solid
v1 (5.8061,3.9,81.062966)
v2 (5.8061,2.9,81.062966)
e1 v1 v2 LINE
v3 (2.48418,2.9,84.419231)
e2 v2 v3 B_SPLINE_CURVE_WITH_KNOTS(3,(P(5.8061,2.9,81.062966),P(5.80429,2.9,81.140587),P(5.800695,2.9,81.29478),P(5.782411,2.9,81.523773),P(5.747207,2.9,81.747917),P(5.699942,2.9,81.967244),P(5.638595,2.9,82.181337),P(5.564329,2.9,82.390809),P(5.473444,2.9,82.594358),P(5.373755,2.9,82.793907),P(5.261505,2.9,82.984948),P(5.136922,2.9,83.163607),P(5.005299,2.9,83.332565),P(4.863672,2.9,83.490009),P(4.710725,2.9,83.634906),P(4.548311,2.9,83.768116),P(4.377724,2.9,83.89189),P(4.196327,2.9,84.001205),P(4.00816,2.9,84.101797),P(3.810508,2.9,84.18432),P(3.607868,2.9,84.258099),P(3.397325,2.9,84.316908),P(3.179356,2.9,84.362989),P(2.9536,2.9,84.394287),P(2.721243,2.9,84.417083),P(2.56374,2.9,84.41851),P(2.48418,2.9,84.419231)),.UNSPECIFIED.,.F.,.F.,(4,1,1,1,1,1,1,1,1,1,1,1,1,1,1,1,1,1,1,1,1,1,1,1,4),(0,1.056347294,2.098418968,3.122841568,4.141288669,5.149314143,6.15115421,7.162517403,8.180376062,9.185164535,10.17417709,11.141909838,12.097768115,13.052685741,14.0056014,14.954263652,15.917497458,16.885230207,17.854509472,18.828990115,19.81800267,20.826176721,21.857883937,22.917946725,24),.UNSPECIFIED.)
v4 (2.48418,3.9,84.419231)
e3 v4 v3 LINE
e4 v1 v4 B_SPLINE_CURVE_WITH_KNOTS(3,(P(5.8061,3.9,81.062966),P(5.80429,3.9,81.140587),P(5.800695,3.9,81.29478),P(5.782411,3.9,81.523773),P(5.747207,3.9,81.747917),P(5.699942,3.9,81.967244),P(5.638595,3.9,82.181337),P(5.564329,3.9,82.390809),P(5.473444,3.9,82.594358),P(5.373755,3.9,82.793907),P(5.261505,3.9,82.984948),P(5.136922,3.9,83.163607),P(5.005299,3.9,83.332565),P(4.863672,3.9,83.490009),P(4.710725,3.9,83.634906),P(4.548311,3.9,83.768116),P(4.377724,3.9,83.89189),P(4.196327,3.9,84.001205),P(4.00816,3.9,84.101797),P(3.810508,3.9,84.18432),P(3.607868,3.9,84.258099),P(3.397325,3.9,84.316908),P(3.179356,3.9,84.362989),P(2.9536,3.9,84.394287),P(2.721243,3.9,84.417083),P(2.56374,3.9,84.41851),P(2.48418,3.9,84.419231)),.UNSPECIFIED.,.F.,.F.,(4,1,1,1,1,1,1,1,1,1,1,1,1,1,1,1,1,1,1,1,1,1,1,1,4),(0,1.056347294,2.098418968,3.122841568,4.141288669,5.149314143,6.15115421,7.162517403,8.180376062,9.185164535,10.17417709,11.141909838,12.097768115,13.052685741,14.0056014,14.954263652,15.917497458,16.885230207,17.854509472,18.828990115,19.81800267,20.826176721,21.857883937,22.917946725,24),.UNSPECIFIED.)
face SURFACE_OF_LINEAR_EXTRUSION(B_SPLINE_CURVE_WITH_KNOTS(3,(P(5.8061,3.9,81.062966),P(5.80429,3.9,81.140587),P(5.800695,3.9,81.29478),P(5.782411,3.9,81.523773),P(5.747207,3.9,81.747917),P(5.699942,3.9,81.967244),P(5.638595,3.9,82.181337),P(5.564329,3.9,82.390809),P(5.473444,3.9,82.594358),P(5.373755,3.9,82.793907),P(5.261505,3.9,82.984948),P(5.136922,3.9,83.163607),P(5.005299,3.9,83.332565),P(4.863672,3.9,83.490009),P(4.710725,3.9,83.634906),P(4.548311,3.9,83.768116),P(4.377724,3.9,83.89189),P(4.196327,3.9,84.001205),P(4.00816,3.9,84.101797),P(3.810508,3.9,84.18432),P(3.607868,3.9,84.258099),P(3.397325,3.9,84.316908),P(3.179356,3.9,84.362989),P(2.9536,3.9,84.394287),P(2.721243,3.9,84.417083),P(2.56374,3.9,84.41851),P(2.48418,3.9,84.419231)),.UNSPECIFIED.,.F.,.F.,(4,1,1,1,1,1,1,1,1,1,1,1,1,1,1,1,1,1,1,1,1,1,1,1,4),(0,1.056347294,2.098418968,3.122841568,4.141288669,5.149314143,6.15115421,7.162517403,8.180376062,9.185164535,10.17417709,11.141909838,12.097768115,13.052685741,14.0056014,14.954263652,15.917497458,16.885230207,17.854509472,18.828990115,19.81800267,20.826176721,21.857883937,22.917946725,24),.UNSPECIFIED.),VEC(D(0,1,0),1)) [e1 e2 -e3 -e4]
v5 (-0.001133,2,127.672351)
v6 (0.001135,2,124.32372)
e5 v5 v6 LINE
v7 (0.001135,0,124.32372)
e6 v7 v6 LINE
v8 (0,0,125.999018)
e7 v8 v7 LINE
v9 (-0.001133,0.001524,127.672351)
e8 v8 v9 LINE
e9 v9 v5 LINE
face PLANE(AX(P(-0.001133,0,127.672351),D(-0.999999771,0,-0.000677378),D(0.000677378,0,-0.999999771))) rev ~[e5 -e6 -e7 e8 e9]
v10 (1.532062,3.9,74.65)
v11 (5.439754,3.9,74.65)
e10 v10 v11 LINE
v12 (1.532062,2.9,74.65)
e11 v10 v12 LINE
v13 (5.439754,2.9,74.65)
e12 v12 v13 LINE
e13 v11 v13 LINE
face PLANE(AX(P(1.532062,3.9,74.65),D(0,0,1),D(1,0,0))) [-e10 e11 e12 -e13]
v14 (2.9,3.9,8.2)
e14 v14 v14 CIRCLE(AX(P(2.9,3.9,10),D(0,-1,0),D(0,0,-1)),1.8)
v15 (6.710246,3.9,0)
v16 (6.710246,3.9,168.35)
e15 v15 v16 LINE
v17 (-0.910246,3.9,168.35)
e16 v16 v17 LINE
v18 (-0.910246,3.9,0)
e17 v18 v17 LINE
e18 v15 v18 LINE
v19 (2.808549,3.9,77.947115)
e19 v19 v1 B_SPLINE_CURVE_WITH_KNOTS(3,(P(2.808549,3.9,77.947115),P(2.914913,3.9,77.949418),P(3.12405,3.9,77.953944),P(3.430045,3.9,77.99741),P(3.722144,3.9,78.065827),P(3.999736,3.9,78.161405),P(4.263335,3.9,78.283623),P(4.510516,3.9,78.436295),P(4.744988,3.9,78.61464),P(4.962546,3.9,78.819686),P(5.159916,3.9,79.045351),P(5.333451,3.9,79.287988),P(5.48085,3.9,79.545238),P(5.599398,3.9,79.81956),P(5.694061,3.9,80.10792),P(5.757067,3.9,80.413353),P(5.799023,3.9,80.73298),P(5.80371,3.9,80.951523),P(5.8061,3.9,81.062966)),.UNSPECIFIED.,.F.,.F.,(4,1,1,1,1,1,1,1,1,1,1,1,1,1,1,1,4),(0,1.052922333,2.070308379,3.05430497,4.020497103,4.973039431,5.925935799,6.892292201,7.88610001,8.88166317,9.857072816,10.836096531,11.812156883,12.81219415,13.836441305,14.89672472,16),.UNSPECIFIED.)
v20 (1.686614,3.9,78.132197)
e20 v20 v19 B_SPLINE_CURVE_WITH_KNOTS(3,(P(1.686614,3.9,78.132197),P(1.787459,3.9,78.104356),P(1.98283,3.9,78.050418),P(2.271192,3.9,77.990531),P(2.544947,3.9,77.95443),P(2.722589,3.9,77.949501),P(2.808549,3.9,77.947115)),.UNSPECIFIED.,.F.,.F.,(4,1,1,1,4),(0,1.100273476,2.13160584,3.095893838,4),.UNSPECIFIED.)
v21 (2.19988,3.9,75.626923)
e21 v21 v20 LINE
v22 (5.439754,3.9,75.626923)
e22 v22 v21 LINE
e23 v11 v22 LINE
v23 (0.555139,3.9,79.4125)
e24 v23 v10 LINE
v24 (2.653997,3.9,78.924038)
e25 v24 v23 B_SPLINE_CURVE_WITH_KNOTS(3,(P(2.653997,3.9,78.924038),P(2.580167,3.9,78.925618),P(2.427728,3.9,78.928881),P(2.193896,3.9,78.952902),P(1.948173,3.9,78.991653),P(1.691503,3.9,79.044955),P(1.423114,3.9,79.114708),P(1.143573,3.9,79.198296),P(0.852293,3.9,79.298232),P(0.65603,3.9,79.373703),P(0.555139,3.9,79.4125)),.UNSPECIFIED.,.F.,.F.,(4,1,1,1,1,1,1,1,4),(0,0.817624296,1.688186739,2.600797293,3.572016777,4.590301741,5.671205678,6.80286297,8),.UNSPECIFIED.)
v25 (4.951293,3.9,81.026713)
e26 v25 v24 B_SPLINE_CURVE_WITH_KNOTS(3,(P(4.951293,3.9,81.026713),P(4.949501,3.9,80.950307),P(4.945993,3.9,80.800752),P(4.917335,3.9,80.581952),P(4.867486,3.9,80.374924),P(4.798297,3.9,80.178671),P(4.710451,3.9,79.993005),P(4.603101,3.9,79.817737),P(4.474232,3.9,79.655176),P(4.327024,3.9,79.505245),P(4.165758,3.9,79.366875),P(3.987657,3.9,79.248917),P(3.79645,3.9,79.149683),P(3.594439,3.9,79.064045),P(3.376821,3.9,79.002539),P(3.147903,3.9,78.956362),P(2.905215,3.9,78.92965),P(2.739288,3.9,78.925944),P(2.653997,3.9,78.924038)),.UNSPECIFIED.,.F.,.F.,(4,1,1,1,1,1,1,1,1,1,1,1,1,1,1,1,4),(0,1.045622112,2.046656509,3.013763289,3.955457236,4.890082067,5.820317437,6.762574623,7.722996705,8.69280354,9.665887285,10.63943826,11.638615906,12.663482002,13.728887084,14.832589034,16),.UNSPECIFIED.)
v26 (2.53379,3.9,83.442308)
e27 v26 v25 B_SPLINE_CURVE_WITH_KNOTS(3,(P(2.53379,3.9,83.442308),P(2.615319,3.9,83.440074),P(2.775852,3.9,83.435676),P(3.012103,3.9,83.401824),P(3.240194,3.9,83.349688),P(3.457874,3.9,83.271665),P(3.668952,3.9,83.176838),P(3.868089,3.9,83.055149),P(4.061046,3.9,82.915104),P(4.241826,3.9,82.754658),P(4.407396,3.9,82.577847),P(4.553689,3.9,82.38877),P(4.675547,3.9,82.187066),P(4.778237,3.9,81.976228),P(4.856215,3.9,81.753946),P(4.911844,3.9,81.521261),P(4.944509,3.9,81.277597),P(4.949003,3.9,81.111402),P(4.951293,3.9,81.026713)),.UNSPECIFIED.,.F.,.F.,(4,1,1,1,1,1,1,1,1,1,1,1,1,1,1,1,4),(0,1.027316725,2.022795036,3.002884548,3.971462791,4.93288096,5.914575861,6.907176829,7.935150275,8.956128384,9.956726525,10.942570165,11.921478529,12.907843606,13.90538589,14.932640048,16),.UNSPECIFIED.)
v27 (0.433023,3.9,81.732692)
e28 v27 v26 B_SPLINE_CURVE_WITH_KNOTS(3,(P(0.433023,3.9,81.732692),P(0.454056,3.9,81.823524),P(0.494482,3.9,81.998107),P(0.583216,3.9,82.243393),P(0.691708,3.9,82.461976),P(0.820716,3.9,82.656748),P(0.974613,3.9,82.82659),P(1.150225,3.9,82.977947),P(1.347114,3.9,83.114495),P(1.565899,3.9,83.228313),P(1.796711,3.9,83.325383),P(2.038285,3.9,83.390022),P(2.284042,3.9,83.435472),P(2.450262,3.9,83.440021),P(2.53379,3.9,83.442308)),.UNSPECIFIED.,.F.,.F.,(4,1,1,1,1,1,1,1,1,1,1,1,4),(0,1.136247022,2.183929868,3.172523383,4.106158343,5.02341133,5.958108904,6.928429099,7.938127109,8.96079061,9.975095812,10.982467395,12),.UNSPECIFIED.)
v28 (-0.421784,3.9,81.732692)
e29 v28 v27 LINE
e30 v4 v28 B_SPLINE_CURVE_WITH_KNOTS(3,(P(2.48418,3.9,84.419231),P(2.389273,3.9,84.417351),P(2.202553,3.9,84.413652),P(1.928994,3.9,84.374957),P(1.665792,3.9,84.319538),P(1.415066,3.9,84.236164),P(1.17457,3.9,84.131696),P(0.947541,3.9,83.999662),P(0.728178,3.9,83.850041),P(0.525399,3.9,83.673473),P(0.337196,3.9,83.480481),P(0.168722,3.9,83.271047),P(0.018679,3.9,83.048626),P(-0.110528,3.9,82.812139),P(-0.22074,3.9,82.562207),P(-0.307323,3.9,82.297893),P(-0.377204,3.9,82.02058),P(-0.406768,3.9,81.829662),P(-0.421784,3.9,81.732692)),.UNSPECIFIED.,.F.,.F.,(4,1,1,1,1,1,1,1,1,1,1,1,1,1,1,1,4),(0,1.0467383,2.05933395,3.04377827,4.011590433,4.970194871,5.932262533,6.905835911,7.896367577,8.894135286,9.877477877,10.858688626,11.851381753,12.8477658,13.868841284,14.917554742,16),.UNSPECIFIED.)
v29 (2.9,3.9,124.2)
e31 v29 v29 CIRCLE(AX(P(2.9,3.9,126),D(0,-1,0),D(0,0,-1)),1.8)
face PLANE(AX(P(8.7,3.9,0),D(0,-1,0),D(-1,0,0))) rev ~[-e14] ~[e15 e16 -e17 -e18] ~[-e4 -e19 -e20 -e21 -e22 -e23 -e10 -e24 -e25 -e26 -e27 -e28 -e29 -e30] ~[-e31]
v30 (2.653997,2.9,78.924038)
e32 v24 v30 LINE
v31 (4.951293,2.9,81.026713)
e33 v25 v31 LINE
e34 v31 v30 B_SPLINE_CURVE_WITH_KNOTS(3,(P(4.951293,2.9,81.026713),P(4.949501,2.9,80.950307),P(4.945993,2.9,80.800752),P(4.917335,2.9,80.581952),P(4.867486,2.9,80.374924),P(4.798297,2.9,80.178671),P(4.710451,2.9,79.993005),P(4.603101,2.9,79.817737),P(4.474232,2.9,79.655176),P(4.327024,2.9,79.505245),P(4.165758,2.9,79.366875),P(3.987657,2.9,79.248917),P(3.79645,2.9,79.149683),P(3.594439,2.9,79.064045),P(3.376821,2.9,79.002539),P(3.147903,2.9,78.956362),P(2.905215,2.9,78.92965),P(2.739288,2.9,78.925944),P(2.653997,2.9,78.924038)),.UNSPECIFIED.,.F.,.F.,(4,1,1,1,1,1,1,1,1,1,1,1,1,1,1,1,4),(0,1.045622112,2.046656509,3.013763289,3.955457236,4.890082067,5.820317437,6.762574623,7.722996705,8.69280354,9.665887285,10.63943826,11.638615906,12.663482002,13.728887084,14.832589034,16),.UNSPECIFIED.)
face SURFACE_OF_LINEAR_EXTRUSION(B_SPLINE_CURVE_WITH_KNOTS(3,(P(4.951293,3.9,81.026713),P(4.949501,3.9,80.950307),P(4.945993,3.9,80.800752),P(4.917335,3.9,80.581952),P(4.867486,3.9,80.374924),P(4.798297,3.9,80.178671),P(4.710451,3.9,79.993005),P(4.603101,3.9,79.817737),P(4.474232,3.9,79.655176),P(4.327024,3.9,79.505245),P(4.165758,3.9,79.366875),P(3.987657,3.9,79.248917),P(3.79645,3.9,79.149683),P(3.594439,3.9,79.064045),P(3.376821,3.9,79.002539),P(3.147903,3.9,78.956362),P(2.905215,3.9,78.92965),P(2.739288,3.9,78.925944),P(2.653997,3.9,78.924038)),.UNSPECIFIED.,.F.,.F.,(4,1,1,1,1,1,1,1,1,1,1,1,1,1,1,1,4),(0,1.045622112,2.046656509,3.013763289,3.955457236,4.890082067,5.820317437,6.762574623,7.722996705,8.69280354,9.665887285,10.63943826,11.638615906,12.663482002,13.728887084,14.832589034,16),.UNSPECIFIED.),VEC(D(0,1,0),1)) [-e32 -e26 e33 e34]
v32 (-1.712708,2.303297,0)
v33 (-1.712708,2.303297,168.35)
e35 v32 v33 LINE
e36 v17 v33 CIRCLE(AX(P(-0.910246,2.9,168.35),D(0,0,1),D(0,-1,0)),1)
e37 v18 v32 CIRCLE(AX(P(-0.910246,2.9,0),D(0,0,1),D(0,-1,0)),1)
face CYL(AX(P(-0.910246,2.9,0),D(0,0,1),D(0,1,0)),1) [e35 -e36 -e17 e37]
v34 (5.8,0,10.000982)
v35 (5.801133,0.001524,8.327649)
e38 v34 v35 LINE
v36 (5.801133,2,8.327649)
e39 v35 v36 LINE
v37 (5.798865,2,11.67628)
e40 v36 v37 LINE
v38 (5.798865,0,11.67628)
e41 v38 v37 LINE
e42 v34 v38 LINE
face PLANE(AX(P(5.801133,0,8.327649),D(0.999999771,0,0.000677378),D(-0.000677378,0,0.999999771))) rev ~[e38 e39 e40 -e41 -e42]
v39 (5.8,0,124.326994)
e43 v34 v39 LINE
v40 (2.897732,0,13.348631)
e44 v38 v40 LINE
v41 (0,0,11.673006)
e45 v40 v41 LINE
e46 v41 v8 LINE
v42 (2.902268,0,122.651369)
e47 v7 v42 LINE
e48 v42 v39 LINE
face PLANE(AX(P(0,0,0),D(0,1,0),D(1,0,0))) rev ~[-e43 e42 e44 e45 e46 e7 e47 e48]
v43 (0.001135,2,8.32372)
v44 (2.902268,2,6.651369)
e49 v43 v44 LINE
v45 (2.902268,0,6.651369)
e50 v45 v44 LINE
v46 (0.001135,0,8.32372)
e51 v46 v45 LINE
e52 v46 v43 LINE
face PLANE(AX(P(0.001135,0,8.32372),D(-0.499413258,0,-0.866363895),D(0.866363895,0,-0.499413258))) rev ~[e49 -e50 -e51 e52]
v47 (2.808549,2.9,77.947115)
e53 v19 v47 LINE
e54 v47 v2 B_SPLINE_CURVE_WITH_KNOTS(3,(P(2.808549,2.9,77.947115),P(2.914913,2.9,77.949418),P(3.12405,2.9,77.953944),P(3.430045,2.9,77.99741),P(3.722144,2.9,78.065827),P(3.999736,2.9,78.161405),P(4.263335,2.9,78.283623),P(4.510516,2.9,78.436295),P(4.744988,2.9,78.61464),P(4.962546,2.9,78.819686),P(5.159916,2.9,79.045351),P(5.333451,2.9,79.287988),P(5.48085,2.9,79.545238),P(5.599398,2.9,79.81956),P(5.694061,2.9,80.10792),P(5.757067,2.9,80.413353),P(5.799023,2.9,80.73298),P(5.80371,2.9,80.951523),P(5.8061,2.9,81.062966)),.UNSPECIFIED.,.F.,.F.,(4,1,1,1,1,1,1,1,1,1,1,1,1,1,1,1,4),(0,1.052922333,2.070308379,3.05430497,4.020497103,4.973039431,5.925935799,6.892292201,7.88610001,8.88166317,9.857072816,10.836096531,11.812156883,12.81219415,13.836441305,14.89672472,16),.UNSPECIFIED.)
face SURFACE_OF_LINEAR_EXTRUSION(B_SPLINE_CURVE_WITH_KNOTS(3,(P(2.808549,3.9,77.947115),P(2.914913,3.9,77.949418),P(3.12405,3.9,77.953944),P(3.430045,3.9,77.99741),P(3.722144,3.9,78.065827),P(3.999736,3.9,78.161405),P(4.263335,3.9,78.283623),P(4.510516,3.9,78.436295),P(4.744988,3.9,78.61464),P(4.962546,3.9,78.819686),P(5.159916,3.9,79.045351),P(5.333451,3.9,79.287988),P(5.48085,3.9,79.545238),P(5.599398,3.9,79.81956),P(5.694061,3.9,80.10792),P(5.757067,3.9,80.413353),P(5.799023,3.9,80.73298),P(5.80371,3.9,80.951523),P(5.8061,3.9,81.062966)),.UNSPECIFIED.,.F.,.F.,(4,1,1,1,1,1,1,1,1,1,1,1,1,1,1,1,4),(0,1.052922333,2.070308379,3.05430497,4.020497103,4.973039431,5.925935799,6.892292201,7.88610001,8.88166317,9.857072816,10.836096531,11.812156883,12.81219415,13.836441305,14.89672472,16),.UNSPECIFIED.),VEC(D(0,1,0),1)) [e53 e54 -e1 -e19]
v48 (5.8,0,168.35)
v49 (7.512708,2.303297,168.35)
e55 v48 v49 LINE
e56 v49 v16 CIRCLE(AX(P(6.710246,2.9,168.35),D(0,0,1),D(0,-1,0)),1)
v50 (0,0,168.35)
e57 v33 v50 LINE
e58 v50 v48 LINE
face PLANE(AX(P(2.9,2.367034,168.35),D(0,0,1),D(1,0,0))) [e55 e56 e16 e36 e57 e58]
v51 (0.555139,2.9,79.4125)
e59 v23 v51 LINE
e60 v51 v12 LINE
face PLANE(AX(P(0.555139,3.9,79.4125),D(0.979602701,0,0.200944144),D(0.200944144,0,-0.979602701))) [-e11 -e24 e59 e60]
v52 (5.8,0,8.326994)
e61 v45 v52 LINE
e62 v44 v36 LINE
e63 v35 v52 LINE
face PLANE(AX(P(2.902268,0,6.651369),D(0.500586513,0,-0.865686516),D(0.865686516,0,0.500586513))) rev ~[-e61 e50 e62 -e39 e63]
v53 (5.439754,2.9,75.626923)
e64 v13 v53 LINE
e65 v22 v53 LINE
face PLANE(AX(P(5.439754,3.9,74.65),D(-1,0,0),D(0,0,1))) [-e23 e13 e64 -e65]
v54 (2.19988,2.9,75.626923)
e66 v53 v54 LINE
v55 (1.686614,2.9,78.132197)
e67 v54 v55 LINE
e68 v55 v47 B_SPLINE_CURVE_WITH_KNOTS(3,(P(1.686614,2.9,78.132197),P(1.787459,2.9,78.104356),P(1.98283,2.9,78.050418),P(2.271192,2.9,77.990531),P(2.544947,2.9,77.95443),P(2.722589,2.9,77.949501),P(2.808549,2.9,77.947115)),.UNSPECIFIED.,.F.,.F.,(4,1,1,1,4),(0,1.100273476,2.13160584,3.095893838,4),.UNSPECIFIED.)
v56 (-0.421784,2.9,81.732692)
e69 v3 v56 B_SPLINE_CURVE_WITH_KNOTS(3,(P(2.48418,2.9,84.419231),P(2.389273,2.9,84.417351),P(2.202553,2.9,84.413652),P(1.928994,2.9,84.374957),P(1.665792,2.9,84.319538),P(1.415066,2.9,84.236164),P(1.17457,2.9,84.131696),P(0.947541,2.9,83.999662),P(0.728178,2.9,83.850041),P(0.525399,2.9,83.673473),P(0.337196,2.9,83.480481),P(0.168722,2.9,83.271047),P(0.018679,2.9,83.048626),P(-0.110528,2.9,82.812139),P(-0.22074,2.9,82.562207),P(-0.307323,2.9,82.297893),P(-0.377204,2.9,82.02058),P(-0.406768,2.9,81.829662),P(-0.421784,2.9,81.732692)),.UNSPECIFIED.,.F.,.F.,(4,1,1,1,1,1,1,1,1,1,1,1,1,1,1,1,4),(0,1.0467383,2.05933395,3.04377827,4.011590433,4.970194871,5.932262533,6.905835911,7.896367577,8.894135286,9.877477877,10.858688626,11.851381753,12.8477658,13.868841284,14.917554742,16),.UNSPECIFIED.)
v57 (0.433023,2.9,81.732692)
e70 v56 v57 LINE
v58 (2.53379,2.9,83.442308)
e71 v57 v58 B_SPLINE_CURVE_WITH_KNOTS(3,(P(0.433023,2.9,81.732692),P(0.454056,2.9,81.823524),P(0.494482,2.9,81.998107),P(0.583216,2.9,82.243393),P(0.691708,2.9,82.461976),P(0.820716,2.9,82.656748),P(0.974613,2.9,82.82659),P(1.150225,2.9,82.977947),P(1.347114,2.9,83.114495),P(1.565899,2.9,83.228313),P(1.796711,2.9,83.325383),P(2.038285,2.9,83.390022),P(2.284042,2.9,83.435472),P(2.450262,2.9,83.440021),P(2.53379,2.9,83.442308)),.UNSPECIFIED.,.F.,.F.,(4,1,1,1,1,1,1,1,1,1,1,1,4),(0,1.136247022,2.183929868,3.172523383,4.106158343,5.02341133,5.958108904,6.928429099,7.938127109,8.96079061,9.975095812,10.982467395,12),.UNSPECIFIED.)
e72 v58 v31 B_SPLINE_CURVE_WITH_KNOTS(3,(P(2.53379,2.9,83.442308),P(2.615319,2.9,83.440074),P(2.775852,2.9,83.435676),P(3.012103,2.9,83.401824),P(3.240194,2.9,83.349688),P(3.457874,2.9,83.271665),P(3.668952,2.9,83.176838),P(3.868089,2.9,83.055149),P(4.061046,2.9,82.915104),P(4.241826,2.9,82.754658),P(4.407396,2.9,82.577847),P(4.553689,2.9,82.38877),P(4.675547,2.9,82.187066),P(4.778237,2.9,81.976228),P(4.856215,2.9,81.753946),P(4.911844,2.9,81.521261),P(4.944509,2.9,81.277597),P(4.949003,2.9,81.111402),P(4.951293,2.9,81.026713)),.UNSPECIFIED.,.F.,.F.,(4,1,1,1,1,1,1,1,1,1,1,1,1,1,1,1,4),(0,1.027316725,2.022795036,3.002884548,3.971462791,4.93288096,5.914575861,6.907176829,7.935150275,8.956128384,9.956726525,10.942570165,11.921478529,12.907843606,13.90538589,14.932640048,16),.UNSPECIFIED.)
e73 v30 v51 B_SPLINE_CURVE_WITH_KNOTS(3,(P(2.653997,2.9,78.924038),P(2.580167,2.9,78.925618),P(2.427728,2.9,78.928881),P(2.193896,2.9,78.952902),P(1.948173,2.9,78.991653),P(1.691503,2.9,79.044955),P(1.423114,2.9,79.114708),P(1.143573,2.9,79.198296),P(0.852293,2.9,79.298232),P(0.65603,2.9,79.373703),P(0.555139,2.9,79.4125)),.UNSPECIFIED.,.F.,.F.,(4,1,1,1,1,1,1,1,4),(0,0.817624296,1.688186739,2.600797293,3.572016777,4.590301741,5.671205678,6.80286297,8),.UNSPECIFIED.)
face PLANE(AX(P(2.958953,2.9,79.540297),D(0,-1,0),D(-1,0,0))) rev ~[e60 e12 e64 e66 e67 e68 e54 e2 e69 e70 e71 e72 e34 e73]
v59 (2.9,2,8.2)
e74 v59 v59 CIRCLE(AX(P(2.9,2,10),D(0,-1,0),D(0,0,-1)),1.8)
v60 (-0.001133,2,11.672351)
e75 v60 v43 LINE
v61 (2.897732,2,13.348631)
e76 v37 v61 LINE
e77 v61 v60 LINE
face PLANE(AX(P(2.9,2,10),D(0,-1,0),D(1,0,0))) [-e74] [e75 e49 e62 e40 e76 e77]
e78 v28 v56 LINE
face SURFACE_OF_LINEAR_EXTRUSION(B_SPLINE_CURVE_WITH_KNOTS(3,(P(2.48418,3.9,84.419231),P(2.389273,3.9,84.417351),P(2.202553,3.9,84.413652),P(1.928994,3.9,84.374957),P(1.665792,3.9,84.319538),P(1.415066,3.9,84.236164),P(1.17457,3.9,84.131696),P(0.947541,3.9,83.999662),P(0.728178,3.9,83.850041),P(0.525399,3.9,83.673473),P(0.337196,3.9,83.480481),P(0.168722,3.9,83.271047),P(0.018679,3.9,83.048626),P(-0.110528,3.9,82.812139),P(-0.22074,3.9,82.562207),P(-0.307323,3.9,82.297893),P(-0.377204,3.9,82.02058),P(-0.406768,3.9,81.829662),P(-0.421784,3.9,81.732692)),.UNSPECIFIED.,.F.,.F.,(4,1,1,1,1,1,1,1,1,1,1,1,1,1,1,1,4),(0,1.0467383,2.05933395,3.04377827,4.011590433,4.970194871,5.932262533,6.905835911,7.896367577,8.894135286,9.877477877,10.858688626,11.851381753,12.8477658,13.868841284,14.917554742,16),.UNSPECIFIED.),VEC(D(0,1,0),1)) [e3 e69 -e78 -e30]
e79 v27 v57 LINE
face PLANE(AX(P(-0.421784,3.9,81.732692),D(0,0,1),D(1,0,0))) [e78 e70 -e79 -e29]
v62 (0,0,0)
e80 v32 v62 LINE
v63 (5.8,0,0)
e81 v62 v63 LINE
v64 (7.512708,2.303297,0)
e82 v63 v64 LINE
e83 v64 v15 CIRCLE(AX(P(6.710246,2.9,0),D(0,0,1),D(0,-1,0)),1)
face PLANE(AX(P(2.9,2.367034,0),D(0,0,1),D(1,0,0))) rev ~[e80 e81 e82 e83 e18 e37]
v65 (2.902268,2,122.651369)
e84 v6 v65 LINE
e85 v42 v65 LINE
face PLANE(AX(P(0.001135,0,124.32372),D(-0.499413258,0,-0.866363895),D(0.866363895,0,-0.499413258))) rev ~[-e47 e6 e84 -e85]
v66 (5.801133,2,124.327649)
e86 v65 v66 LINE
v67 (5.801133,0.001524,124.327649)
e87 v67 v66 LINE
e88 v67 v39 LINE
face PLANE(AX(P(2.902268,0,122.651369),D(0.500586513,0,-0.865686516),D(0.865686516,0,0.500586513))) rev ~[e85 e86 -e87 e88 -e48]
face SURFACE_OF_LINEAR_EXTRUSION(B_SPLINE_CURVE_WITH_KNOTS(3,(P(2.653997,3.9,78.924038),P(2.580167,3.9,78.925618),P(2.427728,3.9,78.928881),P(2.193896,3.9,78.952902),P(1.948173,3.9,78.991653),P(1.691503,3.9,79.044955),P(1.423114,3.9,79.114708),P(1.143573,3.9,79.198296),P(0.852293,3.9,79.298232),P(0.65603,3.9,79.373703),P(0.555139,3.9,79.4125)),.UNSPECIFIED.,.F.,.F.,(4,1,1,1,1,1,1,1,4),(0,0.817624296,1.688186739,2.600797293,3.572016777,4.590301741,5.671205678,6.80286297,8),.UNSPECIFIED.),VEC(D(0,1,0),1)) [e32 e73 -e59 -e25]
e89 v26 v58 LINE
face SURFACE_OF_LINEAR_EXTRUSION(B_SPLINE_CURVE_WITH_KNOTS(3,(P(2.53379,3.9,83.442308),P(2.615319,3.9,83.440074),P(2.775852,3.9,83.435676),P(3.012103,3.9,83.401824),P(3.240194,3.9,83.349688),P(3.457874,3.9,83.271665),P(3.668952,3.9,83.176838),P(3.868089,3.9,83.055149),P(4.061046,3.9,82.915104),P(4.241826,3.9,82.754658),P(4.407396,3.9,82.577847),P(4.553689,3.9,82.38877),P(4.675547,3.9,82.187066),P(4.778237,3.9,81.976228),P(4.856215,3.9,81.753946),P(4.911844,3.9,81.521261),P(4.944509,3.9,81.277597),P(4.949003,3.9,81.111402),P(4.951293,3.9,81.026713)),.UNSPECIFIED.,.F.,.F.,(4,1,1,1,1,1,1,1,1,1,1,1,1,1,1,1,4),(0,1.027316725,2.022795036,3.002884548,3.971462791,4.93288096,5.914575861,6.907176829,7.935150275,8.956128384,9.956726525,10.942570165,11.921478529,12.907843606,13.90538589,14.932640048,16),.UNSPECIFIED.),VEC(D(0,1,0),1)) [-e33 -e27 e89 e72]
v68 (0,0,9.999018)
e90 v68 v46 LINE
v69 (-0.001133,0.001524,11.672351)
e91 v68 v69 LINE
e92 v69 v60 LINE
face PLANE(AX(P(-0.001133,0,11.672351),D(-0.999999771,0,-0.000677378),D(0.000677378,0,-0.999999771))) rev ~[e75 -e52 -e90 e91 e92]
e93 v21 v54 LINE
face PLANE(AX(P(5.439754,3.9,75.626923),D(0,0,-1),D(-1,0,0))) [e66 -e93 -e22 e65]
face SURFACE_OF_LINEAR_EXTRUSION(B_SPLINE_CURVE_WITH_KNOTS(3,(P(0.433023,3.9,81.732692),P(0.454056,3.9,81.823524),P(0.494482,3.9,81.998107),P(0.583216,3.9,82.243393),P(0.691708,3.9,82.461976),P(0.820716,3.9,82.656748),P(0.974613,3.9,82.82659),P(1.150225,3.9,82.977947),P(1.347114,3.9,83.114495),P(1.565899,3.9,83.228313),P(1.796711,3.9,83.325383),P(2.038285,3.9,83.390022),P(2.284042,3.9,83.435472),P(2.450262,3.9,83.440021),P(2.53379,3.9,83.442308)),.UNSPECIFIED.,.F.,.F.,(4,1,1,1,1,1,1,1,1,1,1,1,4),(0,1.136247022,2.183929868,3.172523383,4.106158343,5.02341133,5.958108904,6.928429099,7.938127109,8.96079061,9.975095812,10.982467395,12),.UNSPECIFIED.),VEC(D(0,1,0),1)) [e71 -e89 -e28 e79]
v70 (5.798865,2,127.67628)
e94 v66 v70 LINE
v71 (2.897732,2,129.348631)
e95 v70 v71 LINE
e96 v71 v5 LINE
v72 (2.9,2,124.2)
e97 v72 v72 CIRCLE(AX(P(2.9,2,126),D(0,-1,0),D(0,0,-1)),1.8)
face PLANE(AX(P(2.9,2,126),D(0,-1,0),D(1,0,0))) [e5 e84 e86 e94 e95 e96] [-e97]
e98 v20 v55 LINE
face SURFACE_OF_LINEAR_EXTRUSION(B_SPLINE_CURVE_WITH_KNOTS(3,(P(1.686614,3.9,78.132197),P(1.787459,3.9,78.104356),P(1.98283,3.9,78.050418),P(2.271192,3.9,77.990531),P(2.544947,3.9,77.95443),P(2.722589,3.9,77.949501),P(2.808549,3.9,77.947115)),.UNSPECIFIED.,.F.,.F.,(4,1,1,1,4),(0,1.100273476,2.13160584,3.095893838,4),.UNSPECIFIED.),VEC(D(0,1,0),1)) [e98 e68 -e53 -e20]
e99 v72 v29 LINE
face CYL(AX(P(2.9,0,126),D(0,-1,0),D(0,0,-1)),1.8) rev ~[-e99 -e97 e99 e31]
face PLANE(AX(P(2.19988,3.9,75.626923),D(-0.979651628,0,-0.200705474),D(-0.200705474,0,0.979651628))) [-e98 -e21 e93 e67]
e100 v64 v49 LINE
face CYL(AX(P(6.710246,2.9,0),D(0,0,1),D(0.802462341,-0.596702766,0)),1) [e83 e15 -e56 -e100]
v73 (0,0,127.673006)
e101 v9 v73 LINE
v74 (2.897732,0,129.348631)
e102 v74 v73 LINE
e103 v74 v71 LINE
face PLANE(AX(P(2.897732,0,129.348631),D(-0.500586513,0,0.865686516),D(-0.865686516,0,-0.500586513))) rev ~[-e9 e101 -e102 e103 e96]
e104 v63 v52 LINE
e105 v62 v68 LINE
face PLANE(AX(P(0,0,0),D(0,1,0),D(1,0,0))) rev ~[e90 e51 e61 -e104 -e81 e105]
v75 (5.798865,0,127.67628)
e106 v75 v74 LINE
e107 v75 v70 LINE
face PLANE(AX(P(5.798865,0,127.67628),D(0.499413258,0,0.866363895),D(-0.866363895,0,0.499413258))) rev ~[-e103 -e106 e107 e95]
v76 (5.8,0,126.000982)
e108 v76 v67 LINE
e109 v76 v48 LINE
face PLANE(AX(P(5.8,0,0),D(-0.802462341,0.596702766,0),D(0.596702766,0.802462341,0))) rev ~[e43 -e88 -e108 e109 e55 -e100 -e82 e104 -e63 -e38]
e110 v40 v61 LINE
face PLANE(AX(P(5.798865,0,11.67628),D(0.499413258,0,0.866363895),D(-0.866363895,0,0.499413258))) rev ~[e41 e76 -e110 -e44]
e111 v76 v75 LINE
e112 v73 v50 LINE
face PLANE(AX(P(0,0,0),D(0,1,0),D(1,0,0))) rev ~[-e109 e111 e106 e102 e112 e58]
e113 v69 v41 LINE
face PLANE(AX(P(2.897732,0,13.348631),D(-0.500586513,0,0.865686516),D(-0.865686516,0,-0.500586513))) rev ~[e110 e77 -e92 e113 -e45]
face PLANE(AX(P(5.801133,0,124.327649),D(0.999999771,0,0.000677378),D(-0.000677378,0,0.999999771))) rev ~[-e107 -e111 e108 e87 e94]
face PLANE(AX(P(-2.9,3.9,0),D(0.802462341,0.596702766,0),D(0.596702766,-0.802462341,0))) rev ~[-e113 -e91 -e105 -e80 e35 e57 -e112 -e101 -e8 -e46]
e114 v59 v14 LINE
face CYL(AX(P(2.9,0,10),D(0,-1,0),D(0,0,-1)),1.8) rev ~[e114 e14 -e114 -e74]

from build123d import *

# Parameters (mm, degrees)
BOSS_EXTRUDE1_DEPTH = 168.35
FILLET1_R           = 1
SKETCH2_R           = 1.8
CUT_EXTRUDE1_DEPTH  = 200
CUT_EXTRUDE2_DEPTH  = 2
LPATTERN1_COUNT     = 3
LPATTERN1_PITCH     = 116
CUT_EXTRUDE3_DEPTH  = 1


with BuildPart() as part:
    # Sketch1 → Boss-Extrude1 (new body)
    with BuildSketch(Plane.XY):
        Polygon((0, 0), (5.8, 0), (8.7, 3.9), (-2.9, 3.9), align=None)
    extrude(amount=BOSS_EXTRUDE1_DEPTH)

    # Fillet1
    fillet1_edges = [part.edges().sort_by_distance(p)[0] for p in [
        (-2.9, 3.9, 84.175),
        (8.7, 3.9, 84.175),
    ]]
    fillet(fillet1_edges, radius=FILLET1_R)

    # Sketch2 → Cut-Extrude1 (cut)
    with BuildSketch(Plane.XZ):
        with Locations(Location((2.9, 126, 0), (0, 0, 270))):
            Circle(SKETCH2_R)
    cut_extrude1 = extrude(amount=-CUT_EXTRUDE1_DEPTH, mode=Mode.SUBTRACT)

    # Sketch3 → Cut-Extrude2 (cut)
    with BuildSketch(Plane.XZ):
        Polygon((2.902268292, 122.651369207), (5.80113348, 124.327649002), (5.798865189, 127.676279795), (2.897731708, 129.348630793), (-0.00113348, 127.672350998), (0.001134811, 124.323720205), align=None)
    cut_extrude2 = extrude(amount=-CUT_EXTRUDE2_DEPTH, mode=Mode.SUBTRACT)

    # LPattern1: Cut-Extrude1, Cut-Extrude2 ×3
    with Locations(*[(0, 0, -i * LPATTERN1_PITCH) for i in range(1, LPATTERN1_COUNT)]):
        add(cut_extrude1, mode=Mode.SUBTRACT)
        add(cut_extrude2, mode=Mode.SUBTRACT)

    # Sketch4 → Cut-Extrude3 (cut)
    with BuildSketch(Plane(origin=(0, 3.9, 0), x_dir=(1, 0, 0), z_dir=(0, 1, 0))):
        with BuildLine():
            Line((5.439754142, -74.65), (5.439754142, -75.626923077))
            Line((5.439754142, -75.626923077), (2.199880343, -75.626923077))
            Line((2.199880343, -75.626923077), (1.686614118, -78.132196514))
            add(Edge.make_bspline(
                [(1.686614118, -78.132196514), (1.787459033, -78.10435556), (1.982830106, -78.050418115), (2.271192299, -77.990530983), (2.544946796, -77.954430025), (2.722589054, -77.949500672), (2.808549214, -77.947115385)],
                knots=[0, 0, 0, 0, 1.100273476, 2.13160584, 3.095893838, 4, 4, 4, 4], degree=3))
            add(Edge.make_bspline(
                [(2.808549214, -77.947115385), (2.91491282, -77.949417538), (3.124050244, -77.953944147), (3.430044807, -77.997410395), (3.722143609, -78.065826877), (3.999735773, -78.161404868), (4.263334843, -78.283623499), (4.510515564, -78.43629548), (4.74498817, -78.614639759), (4.96254623, -78.819685828), (5.159915954, -79.045351085), (5.33345054, -79.287987862), (5.480850161, -79.545238143), (5.599397644, -79.819559799), (5.694060725, -80.107920067), (5.757067225, -80.413353024), (5.799022697, -80.732979693), (5.803710049, -80.951522845), (5.806100295, -81.062965745)],
                knots=[0, 0, 0, 0, 1.052922333, 2.070308379, 3.05430497, 4.020497103, 4.973039431, 5.925935799, 6.892292201, 7.88610001, 8.88166317, 9.857072816, 10.836096531, 11.812156883, 12.81219415, 13.836441305, 14.89672472, 16, 16, 16, 16], degree=3))
            add(Edge.make_bspline(
                [(5.806100295, -81.062965745), (5.804290341, -81.140586931), (5.800694891, -81.294780318), (5.782410734, -81.52377275), (5.747207107, -81.747917317), (5.699942087, -81.967243755), (5.638594506, -82.181336832), (5.564329295, -82.390809347), (5.473444392, -82.594357527), (5.373754721, -82.793907352), (5.261505377, -82.984947575), (5.136922439, -83.163606603), (5.005299209, -83.332564541), (4.863672296, -83.490009343), (4.710725302, -83.634906413), (4.548310535, -83.768115664), (4.377723993, -83.891889856), (4.196326512, -84.00120473), (4.008160183, -84.101796775), (3.810507678, -84.184320116), (3.6078682, -84.258099482), (3.397325217, -84.316908268), (3.179355627, -84.362989005), (2.953600131, -84.394287068), (2.721242736, -84.417082945), (2.563740024, -84.418509945), (2.484180223, -84.419230769)],
                knots=[0, 0, 0, 0, 1.056347294, 2.098418968, 3.122841568, 4.141288669, 5.149314143, 6.15115421, 7.162517403, 8.180376062, 9.185164535, 10.17417709, 11.141909838, 12.097768115, 13.052685741, 14.0056014, 14.954263652, 15.917497458, 16.885230207, 17.854509472, 18.828990115, 19.81800267, 20.826176721, 21.857883937, 22.917946725, 24, 24, 24, 24], degree=3))
            add(Edge.make_bspline(
                [(2.484180223, -84.419230769), (2.389272632, -84.417350703), (2.202553157, -84.413651895), (1.928993613, -84.374957303), (1.665791722, -84.319538359), (1.415066233, -84.236163939), (1.174570151, -84.131695658), (0.947541183, -83.999662363), (0.728178321, -83.850040659), (0.525399135, -83.673473413), (0.337195712, -83.48048145), (0.16872157, -83.271046726), (0.018679479, -83.048625887), (-0.110527818, -82.812138768), (-0.22074029, -82.562206766), (-0.307322508, -82.297893456), (-0.377204317, -82.020579874), (-0.40676834, -81.829662107), (-0.42178432, -81.732692308)],
                knots=[0, 0, 0, 0, 1.0467383, 2.05933395, 3.04377827, 4.011590433, 4.970194871, 5.932262533, 6.905835911, 7.896367577, 8.894135286, 9.877477877, 10.858688626, 11.851381753, 12.8477658, 13.868841284, 14.917554742, 16, 16, 16, 16], degree=3))
            Line((-0.42178432, -81.732692308), (0.433023372, -81.732692308))
            add(Edge.make_bspline(
                [(0.433023372, -81.732692308), (0.454056089, -81.823523939), (0.494482139, -81.998107378), (0.583216355, -82.243393385), (0.691708488, -82.461976416), (0.820716036, -82.656747924), (0.974612905, -82.826589553), (1.150225136, -82.977947414), (1.347114297, -83.114495445), (1.565898729, -83.228313118), (1.796711466, -83.325383083), (2.038285088, -83.390021624), (2.284041916, -83.435471911), (2.450262338, -83.440021489), (2.533789598, -83.442307692)],
                knots=[0, 0, 0, 0, 1.136247022, 2.183929868, 3.172523383, 4.106158343, 5.02341133, 5.958108904, 6.928429099, 7.938127109, 8.96079061, 9.975095812, 10.982467395, 12, 12, 12, 12], degree=3))
            add(Edge.make_bspline(
                [(2.533789598, -83.442307692), (2.615319365, -83.440074004), (2.775852142, -83.435675853), (3.01210313, -83.40182397), (3.240193881, -83.349688008), (3.457873759, -83.271665046), (3.668951949, -83.176837633), (3.868089138, -83.055148749), (4.061046254, -82.915103984), (4.241825675, -82.754657727), (4.40739589, -82.577847343), (4.553689334, -82.38876958), (4.675546506, -82.187065876), (4.778237188, -81.976228224), (4.856215094, -81.753945865), (4.911843764, -81.521260524), (4.944509231, -81.277597471), (4.9490028, -81.111401706), (4.951292603, -81.02671274)],
                knots=[0, 0, 0, 0, 1.027316725, 2.022795036, 3.002884548, 3.971462791, 4.93288096, 5.914575861, 6.907176829, 7.935150275, 8.956128384, 9.956726525, 10.942570165, 11.921478529, 12.907843606, 13.90538589, 14.932640048, 16, 16, 16, 16], degree=3))
            add(Edge.make_bspline(
                [(4.951292603, -81.02671274), (4.949500598, -80.950306588), (4.945993004, -80.800752415), (4.917334809, -80.581951718), (4.867486477, -80.374924367), (4.798297204, -80.17867063), (4.710450829, -79.993005405), (4.603100508, -79.817737077), (4.474231618, -79.655175717), (4.327024407, -79.505245267), (4.165757881, -79.366874572), (3.98765741, -79.248916737), (3.796450038, -79.149682789), (3.594439485, -79.064044879), (3.376820725, -79.002538565), (3.147903318, -78.956361677), (2.905215278, -78.929649869), (2.739287905, -78.925943587), (2.65399693, -78.924038462)],
                knots=[0, 0, 0, 0, 1.045622112, 2.046656509, 3.013763289, 3.955457236, 4.890082067, 5.820317437, 6.762574623, 7.722996705, 8.69280354, 9.665887285, 10.63943826, 11.638615906, 12.663482002, 13.728887084, 14.832589034, 16, 16, 16, 16], degree=3))
            add(Edge.make_bspline(
                [(2.65399693, -78.924038462), (2.580167488, -78.925618499), (2.427728421, -78.928880875), (2.193895585, -78.952901556), (1.948173111, -78.991652779), (1.691502948, -79.044955352), (1.423114279, -79.114708497), (1.143573489, -79.198295816), (0.85229282, -79.298232113), (0.656029585, -79.373703352), (0.555138757, -79.4125)],
                knots=[0, 0, 0, 0, 0.817624296, 1.688186739, 2.600797293, 3.572016777, 4.590301741, 5.671205678, 6.80286297, 8, 8, 8, 8], degree=3))
            Line((0.555138757, -79.4125), (1.532061834, -74.65))
            Line((1.532061834, -74.65), (5.439754142, -74.65))
        make_face()
    extrude(amount=-CUT_EXTRUDE3_DEPTH, mode=Mode.SUBTRACT)


solid = part.part
